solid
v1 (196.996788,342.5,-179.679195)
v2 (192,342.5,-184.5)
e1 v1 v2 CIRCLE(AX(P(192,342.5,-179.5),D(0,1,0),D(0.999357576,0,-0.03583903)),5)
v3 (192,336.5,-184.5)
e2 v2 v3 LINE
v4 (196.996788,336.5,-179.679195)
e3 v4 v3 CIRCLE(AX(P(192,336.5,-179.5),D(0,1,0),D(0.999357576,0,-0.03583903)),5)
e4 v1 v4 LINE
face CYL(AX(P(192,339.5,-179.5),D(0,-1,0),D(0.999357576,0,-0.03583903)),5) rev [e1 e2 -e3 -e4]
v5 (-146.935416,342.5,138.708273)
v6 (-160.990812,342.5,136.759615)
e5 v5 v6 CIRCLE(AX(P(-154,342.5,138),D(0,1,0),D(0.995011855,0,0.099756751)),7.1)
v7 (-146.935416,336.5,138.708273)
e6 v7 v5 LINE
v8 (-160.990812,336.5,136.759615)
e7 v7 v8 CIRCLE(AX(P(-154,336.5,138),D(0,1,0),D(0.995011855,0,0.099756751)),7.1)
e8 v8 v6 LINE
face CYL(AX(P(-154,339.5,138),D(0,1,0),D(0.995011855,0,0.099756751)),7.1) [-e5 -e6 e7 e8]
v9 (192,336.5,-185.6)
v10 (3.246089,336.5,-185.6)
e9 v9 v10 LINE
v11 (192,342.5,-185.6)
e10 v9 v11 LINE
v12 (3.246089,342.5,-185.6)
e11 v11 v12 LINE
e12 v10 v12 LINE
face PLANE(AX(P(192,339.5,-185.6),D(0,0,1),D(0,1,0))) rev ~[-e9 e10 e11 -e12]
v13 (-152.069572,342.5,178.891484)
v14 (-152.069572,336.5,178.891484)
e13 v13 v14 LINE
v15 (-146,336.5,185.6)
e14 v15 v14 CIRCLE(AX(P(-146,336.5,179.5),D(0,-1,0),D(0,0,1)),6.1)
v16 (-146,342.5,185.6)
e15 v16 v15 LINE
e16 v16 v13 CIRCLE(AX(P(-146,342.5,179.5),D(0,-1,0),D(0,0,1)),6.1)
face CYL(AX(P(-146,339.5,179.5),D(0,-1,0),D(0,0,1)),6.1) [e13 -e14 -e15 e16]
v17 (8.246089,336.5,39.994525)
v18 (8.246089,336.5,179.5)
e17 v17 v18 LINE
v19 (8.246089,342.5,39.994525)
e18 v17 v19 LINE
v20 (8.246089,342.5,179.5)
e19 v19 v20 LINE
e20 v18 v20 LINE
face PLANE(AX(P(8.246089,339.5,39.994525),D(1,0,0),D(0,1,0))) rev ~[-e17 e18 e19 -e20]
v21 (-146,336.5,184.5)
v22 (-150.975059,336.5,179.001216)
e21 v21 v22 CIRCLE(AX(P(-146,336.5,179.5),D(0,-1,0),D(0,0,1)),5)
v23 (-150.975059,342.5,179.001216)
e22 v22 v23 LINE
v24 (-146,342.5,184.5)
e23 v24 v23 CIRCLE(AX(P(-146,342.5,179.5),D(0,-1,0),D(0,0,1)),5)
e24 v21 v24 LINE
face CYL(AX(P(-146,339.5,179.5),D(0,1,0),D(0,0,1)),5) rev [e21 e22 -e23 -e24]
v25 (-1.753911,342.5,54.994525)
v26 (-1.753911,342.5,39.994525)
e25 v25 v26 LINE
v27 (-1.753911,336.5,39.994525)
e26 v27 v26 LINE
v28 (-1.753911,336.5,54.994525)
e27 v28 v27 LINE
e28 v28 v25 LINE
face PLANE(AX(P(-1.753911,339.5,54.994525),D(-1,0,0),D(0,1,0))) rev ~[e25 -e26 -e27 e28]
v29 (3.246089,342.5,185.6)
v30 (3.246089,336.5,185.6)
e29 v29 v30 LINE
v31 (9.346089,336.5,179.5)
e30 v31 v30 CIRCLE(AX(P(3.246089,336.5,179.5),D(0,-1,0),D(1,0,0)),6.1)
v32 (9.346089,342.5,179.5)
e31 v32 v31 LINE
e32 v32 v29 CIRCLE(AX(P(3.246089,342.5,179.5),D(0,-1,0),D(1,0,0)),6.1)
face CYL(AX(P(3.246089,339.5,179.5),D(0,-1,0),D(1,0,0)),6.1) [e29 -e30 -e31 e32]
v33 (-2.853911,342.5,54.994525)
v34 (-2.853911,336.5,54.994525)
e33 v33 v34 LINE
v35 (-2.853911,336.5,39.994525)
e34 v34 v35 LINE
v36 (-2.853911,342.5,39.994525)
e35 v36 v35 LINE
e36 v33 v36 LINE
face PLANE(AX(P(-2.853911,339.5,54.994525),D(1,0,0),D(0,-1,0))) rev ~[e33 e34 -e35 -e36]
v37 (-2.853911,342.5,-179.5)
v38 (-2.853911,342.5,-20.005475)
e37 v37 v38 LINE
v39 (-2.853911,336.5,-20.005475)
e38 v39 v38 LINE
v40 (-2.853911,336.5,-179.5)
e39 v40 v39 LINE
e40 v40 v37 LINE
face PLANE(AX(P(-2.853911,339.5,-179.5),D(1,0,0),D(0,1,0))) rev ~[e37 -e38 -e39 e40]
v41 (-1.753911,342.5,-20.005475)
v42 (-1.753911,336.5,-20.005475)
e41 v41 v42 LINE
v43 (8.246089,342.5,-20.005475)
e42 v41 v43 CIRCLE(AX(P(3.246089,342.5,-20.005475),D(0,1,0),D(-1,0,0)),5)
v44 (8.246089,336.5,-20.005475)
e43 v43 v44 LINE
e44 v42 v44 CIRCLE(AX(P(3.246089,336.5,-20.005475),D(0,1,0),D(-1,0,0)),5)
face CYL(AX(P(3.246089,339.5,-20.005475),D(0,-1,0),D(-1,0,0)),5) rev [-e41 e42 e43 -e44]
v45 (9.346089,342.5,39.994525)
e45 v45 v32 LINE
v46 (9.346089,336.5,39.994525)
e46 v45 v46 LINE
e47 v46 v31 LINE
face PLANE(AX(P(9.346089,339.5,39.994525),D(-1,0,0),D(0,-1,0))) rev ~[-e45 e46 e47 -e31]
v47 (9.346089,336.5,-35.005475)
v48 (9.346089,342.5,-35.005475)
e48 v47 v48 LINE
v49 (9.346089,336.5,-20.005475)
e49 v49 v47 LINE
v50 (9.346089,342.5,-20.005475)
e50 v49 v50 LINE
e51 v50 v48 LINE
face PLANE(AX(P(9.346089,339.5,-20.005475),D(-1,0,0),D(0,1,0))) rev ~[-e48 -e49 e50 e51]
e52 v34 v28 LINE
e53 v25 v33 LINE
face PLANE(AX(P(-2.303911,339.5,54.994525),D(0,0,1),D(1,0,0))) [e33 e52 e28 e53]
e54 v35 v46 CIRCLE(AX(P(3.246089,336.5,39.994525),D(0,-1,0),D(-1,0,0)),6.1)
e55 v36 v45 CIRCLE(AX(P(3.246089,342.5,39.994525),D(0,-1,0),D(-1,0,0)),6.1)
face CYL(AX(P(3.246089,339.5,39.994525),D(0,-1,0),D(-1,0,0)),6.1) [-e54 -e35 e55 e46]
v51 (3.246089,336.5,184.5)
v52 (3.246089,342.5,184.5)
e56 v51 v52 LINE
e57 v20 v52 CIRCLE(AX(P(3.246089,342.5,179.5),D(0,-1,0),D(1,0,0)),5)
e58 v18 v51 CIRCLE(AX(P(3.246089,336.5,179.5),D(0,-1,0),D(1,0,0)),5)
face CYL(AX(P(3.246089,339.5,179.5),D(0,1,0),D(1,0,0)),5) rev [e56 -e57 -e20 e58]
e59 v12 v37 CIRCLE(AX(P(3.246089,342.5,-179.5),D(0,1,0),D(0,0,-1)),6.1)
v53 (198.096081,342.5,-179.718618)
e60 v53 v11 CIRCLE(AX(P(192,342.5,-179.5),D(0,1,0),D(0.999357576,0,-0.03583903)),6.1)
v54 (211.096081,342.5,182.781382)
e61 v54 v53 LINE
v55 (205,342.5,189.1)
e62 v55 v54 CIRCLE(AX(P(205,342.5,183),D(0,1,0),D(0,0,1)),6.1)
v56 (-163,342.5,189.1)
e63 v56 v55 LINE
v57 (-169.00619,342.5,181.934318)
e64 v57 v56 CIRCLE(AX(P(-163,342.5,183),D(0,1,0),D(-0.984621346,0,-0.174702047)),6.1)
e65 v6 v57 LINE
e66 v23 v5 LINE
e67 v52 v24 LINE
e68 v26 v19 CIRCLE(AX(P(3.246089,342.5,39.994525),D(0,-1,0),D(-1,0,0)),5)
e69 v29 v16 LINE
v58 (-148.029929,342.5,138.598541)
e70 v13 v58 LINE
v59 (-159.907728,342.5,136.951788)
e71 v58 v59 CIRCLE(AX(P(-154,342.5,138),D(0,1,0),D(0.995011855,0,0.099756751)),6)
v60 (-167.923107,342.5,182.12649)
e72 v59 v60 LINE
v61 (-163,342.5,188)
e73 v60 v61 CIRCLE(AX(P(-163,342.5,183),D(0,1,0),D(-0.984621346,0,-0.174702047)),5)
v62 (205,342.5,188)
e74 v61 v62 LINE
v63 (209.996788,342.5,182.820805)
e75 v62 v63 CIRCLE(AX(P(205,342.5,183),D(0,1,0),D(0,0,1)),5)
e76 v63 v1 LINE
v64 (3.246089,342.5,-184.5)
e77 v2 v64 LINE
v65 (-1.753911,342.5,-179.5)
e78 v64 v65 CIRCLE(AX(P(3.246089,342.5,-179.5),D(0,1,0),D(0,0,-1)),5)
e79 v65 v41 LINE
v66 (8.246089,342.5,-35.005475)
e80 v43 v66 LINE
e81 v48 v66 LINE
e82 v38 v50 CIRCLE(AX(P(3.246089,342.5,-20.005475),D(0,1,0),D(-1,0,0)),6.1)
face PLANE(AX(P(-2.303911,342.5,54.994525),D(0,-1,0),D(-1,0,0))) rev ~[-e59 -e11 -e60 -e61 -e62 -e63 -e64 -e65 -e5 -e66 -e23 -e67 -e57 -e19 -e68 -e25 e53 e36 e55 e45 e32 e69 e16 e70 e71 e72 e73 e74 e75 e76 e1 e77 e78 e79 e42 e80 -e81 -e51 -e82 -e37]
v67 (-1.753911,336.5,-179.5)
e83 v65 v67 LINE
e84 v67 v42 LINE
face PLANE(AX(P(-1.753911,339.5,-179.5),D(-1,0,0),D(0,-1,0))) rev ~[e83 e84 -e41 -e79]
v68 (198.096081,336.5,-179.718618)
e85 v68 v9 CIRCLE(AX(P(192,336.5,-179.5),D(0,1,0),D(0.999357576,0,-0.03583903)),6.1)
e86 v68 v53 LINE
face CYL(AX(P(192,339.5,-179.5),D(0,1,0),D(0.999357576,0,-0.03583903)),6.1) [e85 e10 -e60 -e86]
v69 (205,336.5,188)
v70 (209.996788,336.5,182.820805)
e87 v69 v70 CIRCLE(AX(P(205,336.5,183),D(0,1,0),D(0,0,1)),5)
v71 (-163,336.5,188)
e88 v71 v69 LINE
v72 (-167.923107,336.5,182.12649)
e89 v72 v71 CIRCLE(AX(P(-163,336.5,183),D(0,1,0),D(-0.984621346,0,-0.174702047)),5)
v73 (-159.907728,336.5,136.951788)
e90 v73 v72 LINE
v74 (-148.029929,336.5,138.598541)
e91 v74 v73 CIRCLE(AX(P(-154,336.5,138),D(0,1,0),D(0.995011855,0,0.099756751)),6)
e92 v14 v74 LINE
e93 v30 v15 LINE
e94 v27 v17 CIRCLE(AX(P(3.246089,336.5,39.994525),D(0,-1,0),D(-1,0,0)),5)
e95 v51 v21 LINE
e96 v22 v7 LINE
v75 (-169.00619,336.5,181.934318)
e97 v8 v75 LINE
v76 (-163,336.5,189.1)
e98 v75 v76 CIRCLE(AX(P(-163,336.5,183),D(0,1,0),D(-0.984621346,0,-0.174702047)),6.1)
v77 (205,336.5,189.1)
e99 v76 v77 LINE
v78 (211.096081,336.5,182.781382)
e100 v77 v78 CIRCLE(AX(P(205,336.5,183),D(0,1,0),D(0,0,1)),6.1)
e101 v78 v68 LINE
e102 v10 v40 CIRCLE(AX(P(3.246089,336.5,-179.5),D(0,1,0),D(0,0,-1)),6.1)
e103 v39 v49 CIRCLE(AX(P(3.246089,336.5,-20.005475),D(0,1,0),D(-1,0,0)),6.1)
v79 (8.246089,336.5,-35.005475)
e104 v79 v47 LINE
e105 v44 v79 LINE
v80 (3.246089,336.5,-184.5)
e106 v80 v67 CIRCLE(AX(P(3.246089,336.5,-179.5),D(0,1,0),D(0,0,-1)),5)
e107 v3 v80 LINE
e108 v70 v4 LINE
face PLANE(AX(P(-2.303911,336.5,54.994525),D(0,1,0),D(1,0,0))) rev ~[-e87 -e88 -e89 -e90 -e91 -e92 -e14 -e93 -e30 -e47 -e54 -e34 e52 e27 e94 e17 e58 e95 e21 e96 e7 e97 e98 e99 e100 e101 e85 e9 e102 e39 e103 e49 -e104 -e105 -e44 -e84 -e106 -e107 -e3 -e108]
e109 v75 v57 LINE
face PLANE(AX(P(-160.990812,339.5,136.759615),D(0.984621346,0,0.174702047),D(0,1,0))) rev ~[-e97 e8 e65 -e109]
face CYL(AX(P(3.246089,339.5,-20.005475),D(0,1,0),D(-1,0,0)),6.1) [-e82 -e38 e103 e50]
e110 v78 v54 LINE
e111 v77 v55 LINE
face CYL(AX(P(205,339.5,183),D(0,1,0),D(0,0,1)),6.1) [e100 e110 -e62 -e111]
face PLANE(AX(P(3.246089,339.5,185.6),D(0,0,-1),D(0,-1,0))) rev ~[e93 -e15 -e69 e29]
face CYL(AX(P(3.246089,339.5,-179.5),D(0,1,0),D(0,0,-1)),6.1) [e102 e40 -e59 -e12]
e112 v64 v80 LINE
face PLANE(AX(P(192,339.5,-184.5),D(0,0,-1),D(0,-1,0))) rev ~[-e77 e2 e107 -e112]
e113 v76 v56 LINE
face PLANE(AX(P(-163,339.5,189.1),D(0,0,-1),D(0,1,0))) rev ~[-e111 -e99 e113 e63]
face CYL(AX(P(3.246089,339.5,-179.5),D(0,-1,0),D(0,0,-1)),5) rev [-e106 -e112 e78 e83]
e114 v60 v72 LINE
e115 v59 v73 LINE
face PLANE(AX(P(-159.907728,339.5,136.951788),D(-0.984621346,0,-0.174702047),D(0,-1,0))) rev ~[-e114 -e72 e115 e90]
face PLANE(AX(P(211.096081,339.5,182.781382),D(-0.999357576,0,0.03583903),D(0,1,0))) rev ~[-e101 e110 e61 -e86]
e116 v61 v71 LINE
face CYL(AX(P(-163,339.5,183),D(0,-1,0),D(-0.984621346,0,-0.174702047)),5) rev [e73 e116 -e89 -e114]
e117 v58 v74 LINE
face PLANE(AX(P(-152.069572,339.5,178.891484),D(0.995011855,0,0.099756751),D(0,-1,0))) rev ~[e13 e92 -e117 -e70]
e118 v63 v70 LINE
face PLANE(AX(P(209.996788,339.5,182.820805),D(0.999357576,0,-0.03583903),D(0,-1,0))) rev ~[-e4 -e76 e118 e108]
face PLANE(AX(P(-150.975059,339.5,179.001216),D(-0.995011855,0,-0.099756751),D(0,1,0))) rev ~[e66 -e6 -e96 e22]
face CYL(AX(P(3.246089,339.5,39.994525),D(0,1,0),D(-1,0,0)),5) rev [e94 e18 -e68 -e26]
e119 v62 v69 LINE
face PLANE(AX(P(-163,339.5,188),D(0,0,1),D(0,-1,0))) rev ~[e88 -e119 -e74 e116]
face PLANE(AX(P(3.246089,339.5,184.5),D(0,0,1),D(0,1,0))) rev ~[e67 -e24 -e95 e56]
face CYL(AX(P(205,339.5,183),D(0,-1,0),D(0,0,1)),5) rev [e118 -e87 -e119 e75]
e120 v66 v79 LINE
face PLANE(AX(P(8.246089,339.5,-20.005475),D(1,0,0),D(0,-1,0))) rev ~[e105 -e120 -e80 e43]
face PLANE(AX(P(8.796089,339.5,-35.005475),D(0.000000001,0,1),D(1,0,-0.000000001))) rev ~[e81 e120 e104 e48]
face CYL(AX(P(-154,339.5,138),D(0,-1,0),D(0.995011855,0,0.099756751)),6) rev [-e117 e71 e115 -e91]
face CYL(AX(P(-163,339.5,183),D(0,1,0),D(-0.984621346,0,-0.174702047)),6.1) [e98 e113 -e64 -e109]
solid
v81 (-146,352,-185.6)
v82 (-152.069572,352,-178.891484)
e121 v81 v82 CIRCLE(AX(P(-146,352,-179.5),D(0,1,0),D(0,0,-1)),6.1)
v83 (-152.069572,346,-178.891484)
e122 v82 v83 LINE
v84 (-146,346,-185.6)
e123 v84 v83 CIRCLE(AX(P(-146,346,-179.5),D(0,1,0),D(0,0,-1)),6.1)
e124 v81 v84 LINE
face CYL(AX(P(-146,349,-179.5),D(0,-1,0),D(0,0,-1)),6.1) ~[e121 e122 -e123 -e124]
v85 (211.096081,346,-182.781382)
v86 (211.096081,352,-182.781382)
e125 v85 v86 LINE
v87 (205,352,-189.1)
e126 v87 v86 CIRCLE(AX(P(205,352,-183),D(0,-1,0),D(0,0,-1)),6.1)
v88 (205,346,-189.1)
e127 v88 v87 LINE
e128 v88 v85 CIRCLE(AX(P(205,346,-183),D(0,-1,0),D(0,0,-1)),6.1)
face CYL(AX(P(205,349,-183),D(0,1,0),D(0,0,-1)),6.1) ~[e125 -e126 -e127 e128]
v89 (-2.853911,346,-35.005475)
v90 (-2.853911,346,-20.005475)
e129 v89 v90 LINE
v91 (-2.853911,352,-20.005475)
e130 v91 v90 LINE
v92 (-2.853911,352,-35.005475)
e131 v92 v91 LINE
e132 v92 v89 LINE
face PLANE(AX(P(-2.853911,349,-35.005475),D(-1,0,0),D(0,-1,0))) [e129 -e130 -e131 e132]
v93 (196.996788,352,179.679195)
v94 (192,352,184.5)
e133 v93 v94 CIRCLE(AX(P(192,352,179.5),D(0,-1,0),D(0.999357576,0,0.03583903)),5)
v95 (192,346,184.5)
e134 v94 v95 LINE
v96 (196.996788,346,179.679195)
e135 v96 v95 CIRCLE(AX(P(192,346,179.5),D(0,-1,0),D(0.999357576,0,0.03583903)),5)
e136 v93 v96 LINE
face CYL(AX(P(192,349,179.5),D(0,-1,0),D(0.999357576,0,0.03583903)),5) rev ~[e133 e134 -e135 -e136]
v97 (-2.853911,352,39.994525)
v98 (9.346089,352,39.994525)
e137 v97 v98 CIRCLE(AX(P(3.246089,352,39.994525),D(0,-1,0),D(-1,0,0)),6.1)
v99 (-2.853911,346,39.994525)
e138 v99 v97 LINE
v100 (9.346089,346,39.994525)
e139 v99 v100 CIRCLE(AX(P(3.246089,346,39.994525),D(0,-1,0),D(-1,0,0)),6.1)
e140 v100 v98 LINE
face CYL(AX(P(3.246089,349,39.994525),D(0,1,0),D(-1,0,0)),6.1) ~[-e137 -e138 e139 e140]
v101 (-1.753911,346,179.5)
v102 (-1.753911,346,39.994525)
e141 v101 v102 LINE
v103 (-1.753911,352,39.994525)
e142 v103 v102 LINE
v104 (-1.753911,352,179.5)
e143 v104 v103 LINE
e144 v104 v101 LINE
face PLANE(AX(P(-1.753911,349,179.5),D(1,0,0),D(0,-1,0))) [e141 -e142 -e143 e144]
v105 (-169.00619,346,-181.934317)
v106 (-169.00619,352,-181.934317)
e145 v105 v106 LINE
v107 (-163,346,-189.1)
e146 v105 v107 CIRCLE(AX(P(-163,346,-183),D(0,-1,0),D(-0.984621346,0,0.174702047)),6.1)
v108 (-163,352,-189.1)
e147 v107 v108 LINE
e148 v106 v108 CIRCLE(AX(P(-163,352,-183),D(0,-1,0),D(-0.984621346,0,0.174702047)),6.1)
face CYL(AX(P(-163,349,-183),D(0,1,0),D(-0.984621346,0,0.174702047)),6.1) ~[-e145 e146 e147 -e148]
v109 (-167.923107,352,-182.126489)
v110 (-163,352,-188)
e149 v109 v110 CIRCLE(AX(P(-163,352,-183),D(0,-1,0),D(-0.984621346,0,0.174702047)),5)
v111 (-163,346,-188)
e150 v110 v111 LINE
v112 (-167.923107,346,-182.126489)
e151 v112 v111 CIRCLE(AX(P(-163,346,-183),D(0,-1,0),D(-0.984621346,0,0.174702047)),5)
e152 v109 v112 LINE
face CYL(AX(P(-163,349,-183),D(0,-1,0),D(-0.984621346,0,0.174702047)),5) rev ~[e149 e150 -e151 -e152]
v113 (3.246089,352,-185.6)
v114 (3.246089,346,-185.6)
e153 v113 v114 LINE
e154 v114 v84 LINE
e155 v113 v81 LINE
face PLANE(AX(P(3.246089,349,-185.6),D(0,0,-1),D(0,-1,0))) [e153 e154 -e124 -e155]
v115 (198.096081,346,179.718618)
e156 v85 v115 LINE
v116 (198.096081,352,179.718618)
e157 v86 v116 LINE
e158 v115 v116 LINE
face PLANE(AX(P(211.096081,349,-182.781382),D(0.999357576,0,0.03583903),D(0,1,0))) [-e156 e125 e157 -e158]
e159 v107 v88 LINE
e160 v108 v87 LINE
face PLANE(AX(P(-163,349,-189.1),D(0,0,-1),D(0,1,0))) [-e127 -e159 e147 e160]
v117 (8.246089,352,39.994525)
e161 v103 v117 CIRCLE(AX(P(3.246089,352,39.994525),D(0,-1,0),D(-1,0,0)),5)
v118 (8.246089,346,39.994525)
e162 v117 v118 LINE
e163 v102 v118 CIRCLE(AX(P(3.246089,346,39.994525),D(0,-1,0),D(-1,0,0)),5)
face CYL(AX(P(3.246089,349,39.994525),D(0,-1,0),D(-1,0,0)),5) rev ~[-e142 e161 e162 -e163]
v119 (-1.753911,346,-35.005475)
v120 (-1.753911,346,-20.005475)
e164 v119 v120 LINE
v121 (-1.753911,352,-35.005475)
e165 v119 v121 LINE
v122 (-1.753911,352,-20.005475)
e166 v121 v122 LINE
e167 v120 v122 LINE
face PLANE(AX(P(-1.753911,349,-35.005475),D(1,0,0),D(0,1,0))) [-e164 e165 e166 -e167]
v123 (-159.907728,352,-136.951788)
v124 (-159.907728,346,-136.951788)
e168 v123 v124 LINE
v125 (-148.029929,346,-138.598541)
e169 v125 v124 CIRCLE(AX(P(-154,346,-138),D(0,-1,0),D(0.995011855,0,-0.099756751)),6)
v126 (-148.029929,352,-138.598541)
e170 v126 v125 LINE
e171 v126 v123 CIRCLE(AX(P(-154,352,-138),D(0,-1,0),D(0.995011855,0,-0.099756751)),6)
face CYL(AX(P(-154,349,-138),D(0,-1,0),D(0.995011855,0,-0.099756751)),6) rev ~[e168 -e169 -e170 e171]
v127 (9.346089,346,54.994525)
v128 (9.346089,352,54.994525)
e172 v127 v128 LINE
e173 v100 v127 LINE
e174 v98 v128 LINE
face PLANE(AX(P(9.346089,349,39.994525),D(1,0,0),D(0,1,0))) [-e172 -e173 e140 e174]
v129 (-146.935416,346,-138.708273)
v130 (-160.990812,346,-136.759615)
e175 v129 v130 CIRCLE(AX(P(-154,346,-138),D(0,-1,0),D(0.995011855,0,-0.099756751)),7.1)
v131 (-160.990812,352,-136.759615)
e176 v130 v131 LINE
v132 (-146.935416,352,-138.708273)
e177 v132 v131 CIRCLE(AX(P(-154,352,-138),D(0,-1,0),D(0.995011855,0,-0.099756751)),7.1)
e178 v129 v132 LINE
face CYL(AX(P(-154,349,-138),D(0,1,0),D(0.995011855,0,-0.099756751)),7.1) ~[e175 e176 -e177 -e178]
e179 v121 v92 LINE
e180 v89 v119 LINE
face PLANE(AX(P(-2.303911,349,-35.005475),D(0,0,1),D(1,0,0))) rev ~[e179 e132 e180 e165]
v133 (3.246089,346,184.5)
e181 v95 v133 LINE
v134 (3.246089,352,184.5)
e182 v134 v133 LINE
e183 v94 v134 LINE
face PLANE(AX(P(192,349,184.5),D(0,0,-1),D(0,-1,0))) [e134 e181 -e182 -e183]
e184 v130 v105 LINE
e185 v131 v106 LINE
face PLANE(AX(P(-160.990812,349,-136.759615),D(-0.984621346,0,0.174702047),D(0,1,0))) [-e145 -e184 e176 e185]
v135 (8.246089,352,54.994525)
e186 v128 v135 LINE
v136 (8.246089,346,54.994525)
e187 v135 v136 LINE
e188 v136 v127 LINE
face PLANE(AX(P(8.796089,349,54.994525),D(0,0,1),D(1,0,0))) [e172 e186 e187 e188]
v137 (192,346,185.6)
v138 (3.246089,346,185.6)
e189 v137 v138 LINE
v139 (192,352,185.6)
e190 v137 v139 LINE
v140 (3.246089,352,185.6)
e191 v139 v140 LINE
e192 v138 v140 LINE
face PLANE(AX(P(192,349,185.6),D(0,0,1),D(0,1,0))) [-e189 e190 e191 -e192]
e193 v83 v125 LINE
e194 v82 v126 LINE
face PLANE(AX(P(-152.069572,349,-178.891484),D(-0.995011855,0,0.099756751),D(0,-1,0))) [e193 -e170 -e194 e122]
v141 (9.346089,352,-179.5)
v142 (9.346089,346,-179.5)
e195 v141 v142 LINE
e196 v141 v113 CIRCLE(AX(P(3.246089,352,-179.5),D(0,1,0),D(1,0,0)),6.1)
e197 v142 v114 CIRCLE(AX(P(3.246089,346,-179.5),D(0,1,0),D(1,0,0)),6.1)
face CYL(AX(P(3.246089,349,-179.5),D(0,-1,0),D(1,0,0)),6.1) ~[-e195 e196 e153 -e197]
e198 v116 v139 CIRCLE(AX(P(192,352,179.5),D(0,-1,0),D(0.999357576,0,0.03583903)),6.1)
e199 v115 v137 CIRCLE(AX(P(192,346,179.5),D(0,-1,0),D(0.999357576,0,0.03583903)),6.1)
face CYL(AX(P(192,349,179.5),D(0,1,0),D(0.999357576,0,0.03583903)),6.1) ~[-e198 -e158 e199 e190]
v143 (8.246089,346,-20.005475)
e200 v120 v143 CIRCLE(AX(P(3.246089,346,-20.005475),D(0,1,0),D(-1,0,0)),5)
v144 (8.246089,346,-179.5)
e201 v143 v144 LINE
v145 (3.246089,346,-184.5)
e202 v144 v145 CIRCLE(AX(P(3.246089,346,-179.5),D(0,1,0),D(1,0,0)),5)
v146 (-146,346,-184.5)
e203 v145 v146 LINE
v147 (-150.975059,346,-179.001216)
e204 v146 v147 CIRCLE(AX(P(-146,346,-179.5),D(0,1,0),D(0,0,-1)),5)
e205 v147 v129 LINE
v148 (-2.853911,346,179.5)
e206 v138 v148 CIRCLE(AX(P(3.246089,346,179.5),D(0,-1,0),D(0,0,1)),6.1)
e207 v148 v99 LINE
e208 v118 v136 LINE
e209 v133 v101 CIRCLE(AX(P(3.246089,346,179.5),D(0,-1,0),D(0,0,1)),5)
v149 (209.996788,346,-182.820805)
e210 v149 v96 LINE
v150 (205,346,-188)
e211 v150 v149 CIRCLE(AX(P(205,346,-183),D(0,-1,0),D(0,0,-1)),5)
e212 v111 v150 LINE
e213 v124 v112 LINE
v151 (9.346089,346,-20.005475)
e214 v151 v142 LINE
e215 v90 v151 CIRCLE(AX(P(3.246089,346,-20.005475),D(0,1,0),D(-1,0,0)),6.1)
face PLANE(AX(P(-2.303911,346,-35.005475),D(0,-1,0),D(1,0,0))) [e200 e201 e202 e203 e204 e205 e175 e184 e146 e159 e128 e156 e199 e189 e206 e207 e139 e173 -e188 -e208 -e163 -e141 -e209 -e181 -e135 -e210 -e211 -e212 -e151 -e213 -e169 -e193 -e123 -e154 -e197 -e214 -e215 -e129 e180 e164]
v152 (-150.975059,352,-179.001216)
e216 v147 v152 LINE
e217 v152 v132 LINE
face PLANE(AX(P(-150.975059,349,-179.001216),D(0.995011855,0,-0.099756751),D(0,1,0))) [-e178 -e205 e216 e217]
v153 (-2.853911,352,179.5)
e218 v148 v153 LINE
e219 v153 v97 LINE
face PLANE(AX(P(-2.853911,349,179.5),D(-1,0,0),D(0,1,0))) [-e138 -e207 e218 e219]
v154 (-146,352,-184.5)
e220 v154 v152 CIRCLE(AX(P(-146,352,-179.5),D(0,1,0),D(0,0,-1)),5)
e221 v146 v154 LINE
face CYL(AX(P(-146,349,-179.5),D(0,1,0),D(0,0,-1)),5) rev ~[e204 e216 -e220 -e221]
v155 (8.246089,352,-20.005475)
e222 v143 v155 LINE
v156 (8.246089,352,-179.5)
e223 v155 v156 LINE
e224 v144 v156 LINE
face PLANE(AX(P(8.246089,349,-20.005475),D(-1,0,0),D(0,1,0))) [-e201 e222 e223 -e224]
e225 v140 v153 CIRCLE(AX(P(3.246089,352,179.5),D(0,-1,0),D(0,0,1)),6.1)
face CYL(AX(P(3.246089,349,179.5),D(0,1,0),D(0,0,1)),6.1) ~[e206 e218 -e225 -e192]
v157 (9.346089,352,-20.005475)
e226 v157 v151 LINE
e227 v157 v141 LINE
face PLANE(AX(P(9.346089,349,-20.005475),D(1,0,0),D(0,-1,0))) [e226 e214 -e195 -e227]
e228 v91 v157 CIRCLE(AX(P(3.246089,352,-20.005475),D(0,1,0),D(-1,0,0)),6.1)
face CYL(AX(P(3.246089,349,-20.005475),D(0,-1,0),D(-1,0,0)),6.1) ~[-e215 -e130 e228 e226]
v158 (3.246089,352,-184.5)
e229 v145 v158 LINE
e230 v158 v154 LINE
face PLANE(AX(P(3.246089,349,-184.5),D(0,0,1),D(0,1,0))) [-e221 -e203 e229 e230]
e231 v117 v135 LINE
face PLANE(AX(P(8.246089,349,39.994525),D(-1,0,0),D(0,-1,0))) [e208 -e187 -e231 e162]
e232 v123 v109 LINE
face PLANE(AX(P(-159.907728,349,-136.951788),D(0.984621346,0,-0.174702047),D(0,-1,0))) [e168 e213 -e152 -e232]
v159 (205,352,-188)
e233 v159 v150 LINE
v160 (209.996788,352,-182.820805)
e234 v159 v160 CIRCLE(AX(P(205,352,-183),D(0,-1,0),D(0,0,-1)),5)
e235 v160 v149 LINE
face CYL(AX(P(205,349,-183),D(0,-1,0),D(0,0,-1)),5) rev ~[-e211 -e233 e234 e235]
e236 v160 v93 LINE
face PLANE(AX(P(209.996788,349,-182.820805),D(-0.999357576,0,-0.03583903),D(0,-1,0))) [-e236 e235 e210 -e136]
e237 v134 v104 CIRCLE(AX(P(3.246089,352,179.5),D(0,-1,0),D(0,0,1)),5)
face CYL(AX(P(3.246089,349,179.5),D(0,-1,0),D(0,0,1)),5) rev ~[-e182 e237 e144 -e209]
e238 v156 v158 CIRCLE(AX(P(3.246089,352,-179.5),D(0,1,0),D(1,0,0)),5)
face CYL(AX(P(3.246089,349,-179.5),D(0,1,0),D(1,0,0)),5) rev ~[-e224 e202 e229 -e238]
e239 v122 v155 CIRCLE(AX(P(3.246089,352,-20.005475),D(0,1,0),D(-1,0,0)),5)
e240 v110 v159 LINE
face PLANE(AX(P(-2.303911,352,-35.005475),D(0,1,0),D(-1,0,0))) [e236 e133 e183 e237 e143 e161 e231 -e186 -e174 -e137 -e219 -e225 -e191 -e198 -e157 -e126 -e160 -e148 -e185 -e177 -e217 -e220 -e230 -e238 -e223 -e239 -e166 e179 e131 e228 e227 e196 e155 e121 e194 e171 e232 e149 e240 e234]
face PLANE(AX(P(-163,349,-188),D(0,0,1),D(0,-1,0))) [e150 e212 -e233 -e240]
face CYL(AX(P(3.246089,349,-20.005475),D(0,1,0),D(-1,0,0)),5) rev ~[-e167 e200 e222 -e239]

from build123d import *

# Parameters (mm, degrees)
CROQUIS3_W = 1.1
CROQUIS3_H = 6
CROQUIS5_W = 1.1
CROQUIS5_H = 6


with BuildPart() as part:
    # Barrer1: sweep along a path in Croquis2
    with BuildLine(Plane(origin=(0, 336.5, 0), x_dir=(1, 0, 0), z_dir=(0, 1, 0))) as barrer1_path:
        Line((-2.853911117, -54.994524715), (-2.853911117, -39.994524715))
        ThreePointArc((-2.853911117, -39.994524715), (3.246088883, -33.894524715), (9.346088883, -39.994524715))
        Line((9.346088883, -39.994524715), (9.346088883, -179.5))
        ThreePointArc((9.346088883, -179.5), (7.559440248, -183.813351365), (3.246088883, -185.6))
        Line((3.246088883, -185.6), (-146, -185.6))
        ThreePointArc((-146, -185.6), (-150.523380854, -183.592557348), (-152.069572313, -178.891483819))
        Line((-152.069572313, -178.891483819), (-148.029928873, -138.598540506))
        ThreePointArc((-148.029928873, -138.598540506), (-153.176033769, -132.056845985), (-159.907728075, -136.951787718))
        Line((-159.907728075, -136.951787718), (-167.923106729, -182.126489765))
        ThreePointArc((-167.923106729, -182.126489765), (-166.831941491, -186.211887983), (-163, -188))
        Line((-163, -188), (205, -188))
        ThreePointArc((205, -188), (208.598331263, -186.471600801), (209.996787878, -182.820804849))
        Line((209.996787878, -182.820804849), (196.996787878, 179.679195151))
        ThreePointArc((196.996787878, 179.679195151), (195.471600801, 183.098331263), (192, 184.5))
        Line((192, 184.5), (3.246088883, 184.5))
        ThreePointArc((3.246088883, 184.5), (-0.289445023, 183.035533906), (-1.753911117, 179.5))
        Line((-1.753911117, 179.5), (-1.753911117, 20.005475285))
        ThreePointArc((-1.753911117, 20.005475285), (3.246088883, 15.005475285), (8.246088883, 20.005475285))
        Line((8.246088883, 20.005475285), (8.246088883, 35.005475285))
    # Croquis3 → Barrer1 (sweep)
    with BuildSketch(Plane.XY.offset(54.994524715)):
        with Locations((-2.303911117, 339.5)):
            Rectangle(CROQUIS3_W, CROQUIS3_H)
    sweep(path=barrer1_path.line)


with BuildPart() as body_2:
    # Barrer2: sweep along a path in Croquis4
    with BuildLine(Plane(origin=(0, 346, 0), x_dir=(1, 0, 0), z_dir=(0, 1, 0))) as barrer2_path:
        Line((-2.853911117, 35.005475285), (-2.853911117, 20.005475285))
        ThreePointArc((-2.853911117, 20.005475285), (3.246088883, 13.905475285), (9.346088883, 20.005475285))
        Line((9.346088883, 20.005475285), (9.346088883, 179.5))
        ThreePointArc((9.346088883, 179.5), (7.559440248, 183.813351365), (3.246088883, 185.6))
        Line((3.246088883, 185.6), (-146, 185.6))
        ThreePointArc((-146, 185.6), (-150.523380854, 183.592557348), (-152.069572313, 178.891483819))
        Line((-152.069572313, 178.891483819), (-148.029928873, 138.598540506))
        ThreePointArc((-148.029928873, 138.598540506), (-153.176033769, 132.056845985), (-159.907728075, 136.951787718))
        Line((-159.907728075, 136.951787718), (-167.923106655, 182.126489344))
        ThreePointArc((-167.923106655, 182.126489344), (-166.831941337, 186.211887854), (-162.999999572, 188))
        Line((-162.999999572, 188), (205, 188))
        ThreePointArc((205, 188), (208.598331263, 186.471600801), (209.996787878, 182.820804849))
        Line((209.996787878, 182.820804849), (196.996787878, -179.679195151))
        ThreePointArc((196.996787878, -179.679195151), (195.471600801, -183.098331263), (192, -184.5))
        Line((192, -184.5), (3.246088883, -184.5))
        ThreePointArc((3.246088883, -184.5), (-0.289445023, -183.035533906), (-1.753911117, -179.5))
        Line((-1.753911117, -179.5), (-1.753911117, -39.994524715))
        ThreePointArc((-1.753911117, -39.994524715), (3.246088883, -34.994524715), (8.246088883, -39.994524715))
        Line((8.246088883, -39.994524715), (8.246088883, -54.994524715))
    # Croquis5 → Barrer2 (sweep)
    with BuildSketch(Plane.XY.offset(-35.005475285)):
        with Locations((-2.303911117, 349)):
            Rectangle(CROQUIS5_W, CROQUIS5_H)
    sweep(path=barrer2_path.line)


solid = Compound([part.part, body_2.part])
